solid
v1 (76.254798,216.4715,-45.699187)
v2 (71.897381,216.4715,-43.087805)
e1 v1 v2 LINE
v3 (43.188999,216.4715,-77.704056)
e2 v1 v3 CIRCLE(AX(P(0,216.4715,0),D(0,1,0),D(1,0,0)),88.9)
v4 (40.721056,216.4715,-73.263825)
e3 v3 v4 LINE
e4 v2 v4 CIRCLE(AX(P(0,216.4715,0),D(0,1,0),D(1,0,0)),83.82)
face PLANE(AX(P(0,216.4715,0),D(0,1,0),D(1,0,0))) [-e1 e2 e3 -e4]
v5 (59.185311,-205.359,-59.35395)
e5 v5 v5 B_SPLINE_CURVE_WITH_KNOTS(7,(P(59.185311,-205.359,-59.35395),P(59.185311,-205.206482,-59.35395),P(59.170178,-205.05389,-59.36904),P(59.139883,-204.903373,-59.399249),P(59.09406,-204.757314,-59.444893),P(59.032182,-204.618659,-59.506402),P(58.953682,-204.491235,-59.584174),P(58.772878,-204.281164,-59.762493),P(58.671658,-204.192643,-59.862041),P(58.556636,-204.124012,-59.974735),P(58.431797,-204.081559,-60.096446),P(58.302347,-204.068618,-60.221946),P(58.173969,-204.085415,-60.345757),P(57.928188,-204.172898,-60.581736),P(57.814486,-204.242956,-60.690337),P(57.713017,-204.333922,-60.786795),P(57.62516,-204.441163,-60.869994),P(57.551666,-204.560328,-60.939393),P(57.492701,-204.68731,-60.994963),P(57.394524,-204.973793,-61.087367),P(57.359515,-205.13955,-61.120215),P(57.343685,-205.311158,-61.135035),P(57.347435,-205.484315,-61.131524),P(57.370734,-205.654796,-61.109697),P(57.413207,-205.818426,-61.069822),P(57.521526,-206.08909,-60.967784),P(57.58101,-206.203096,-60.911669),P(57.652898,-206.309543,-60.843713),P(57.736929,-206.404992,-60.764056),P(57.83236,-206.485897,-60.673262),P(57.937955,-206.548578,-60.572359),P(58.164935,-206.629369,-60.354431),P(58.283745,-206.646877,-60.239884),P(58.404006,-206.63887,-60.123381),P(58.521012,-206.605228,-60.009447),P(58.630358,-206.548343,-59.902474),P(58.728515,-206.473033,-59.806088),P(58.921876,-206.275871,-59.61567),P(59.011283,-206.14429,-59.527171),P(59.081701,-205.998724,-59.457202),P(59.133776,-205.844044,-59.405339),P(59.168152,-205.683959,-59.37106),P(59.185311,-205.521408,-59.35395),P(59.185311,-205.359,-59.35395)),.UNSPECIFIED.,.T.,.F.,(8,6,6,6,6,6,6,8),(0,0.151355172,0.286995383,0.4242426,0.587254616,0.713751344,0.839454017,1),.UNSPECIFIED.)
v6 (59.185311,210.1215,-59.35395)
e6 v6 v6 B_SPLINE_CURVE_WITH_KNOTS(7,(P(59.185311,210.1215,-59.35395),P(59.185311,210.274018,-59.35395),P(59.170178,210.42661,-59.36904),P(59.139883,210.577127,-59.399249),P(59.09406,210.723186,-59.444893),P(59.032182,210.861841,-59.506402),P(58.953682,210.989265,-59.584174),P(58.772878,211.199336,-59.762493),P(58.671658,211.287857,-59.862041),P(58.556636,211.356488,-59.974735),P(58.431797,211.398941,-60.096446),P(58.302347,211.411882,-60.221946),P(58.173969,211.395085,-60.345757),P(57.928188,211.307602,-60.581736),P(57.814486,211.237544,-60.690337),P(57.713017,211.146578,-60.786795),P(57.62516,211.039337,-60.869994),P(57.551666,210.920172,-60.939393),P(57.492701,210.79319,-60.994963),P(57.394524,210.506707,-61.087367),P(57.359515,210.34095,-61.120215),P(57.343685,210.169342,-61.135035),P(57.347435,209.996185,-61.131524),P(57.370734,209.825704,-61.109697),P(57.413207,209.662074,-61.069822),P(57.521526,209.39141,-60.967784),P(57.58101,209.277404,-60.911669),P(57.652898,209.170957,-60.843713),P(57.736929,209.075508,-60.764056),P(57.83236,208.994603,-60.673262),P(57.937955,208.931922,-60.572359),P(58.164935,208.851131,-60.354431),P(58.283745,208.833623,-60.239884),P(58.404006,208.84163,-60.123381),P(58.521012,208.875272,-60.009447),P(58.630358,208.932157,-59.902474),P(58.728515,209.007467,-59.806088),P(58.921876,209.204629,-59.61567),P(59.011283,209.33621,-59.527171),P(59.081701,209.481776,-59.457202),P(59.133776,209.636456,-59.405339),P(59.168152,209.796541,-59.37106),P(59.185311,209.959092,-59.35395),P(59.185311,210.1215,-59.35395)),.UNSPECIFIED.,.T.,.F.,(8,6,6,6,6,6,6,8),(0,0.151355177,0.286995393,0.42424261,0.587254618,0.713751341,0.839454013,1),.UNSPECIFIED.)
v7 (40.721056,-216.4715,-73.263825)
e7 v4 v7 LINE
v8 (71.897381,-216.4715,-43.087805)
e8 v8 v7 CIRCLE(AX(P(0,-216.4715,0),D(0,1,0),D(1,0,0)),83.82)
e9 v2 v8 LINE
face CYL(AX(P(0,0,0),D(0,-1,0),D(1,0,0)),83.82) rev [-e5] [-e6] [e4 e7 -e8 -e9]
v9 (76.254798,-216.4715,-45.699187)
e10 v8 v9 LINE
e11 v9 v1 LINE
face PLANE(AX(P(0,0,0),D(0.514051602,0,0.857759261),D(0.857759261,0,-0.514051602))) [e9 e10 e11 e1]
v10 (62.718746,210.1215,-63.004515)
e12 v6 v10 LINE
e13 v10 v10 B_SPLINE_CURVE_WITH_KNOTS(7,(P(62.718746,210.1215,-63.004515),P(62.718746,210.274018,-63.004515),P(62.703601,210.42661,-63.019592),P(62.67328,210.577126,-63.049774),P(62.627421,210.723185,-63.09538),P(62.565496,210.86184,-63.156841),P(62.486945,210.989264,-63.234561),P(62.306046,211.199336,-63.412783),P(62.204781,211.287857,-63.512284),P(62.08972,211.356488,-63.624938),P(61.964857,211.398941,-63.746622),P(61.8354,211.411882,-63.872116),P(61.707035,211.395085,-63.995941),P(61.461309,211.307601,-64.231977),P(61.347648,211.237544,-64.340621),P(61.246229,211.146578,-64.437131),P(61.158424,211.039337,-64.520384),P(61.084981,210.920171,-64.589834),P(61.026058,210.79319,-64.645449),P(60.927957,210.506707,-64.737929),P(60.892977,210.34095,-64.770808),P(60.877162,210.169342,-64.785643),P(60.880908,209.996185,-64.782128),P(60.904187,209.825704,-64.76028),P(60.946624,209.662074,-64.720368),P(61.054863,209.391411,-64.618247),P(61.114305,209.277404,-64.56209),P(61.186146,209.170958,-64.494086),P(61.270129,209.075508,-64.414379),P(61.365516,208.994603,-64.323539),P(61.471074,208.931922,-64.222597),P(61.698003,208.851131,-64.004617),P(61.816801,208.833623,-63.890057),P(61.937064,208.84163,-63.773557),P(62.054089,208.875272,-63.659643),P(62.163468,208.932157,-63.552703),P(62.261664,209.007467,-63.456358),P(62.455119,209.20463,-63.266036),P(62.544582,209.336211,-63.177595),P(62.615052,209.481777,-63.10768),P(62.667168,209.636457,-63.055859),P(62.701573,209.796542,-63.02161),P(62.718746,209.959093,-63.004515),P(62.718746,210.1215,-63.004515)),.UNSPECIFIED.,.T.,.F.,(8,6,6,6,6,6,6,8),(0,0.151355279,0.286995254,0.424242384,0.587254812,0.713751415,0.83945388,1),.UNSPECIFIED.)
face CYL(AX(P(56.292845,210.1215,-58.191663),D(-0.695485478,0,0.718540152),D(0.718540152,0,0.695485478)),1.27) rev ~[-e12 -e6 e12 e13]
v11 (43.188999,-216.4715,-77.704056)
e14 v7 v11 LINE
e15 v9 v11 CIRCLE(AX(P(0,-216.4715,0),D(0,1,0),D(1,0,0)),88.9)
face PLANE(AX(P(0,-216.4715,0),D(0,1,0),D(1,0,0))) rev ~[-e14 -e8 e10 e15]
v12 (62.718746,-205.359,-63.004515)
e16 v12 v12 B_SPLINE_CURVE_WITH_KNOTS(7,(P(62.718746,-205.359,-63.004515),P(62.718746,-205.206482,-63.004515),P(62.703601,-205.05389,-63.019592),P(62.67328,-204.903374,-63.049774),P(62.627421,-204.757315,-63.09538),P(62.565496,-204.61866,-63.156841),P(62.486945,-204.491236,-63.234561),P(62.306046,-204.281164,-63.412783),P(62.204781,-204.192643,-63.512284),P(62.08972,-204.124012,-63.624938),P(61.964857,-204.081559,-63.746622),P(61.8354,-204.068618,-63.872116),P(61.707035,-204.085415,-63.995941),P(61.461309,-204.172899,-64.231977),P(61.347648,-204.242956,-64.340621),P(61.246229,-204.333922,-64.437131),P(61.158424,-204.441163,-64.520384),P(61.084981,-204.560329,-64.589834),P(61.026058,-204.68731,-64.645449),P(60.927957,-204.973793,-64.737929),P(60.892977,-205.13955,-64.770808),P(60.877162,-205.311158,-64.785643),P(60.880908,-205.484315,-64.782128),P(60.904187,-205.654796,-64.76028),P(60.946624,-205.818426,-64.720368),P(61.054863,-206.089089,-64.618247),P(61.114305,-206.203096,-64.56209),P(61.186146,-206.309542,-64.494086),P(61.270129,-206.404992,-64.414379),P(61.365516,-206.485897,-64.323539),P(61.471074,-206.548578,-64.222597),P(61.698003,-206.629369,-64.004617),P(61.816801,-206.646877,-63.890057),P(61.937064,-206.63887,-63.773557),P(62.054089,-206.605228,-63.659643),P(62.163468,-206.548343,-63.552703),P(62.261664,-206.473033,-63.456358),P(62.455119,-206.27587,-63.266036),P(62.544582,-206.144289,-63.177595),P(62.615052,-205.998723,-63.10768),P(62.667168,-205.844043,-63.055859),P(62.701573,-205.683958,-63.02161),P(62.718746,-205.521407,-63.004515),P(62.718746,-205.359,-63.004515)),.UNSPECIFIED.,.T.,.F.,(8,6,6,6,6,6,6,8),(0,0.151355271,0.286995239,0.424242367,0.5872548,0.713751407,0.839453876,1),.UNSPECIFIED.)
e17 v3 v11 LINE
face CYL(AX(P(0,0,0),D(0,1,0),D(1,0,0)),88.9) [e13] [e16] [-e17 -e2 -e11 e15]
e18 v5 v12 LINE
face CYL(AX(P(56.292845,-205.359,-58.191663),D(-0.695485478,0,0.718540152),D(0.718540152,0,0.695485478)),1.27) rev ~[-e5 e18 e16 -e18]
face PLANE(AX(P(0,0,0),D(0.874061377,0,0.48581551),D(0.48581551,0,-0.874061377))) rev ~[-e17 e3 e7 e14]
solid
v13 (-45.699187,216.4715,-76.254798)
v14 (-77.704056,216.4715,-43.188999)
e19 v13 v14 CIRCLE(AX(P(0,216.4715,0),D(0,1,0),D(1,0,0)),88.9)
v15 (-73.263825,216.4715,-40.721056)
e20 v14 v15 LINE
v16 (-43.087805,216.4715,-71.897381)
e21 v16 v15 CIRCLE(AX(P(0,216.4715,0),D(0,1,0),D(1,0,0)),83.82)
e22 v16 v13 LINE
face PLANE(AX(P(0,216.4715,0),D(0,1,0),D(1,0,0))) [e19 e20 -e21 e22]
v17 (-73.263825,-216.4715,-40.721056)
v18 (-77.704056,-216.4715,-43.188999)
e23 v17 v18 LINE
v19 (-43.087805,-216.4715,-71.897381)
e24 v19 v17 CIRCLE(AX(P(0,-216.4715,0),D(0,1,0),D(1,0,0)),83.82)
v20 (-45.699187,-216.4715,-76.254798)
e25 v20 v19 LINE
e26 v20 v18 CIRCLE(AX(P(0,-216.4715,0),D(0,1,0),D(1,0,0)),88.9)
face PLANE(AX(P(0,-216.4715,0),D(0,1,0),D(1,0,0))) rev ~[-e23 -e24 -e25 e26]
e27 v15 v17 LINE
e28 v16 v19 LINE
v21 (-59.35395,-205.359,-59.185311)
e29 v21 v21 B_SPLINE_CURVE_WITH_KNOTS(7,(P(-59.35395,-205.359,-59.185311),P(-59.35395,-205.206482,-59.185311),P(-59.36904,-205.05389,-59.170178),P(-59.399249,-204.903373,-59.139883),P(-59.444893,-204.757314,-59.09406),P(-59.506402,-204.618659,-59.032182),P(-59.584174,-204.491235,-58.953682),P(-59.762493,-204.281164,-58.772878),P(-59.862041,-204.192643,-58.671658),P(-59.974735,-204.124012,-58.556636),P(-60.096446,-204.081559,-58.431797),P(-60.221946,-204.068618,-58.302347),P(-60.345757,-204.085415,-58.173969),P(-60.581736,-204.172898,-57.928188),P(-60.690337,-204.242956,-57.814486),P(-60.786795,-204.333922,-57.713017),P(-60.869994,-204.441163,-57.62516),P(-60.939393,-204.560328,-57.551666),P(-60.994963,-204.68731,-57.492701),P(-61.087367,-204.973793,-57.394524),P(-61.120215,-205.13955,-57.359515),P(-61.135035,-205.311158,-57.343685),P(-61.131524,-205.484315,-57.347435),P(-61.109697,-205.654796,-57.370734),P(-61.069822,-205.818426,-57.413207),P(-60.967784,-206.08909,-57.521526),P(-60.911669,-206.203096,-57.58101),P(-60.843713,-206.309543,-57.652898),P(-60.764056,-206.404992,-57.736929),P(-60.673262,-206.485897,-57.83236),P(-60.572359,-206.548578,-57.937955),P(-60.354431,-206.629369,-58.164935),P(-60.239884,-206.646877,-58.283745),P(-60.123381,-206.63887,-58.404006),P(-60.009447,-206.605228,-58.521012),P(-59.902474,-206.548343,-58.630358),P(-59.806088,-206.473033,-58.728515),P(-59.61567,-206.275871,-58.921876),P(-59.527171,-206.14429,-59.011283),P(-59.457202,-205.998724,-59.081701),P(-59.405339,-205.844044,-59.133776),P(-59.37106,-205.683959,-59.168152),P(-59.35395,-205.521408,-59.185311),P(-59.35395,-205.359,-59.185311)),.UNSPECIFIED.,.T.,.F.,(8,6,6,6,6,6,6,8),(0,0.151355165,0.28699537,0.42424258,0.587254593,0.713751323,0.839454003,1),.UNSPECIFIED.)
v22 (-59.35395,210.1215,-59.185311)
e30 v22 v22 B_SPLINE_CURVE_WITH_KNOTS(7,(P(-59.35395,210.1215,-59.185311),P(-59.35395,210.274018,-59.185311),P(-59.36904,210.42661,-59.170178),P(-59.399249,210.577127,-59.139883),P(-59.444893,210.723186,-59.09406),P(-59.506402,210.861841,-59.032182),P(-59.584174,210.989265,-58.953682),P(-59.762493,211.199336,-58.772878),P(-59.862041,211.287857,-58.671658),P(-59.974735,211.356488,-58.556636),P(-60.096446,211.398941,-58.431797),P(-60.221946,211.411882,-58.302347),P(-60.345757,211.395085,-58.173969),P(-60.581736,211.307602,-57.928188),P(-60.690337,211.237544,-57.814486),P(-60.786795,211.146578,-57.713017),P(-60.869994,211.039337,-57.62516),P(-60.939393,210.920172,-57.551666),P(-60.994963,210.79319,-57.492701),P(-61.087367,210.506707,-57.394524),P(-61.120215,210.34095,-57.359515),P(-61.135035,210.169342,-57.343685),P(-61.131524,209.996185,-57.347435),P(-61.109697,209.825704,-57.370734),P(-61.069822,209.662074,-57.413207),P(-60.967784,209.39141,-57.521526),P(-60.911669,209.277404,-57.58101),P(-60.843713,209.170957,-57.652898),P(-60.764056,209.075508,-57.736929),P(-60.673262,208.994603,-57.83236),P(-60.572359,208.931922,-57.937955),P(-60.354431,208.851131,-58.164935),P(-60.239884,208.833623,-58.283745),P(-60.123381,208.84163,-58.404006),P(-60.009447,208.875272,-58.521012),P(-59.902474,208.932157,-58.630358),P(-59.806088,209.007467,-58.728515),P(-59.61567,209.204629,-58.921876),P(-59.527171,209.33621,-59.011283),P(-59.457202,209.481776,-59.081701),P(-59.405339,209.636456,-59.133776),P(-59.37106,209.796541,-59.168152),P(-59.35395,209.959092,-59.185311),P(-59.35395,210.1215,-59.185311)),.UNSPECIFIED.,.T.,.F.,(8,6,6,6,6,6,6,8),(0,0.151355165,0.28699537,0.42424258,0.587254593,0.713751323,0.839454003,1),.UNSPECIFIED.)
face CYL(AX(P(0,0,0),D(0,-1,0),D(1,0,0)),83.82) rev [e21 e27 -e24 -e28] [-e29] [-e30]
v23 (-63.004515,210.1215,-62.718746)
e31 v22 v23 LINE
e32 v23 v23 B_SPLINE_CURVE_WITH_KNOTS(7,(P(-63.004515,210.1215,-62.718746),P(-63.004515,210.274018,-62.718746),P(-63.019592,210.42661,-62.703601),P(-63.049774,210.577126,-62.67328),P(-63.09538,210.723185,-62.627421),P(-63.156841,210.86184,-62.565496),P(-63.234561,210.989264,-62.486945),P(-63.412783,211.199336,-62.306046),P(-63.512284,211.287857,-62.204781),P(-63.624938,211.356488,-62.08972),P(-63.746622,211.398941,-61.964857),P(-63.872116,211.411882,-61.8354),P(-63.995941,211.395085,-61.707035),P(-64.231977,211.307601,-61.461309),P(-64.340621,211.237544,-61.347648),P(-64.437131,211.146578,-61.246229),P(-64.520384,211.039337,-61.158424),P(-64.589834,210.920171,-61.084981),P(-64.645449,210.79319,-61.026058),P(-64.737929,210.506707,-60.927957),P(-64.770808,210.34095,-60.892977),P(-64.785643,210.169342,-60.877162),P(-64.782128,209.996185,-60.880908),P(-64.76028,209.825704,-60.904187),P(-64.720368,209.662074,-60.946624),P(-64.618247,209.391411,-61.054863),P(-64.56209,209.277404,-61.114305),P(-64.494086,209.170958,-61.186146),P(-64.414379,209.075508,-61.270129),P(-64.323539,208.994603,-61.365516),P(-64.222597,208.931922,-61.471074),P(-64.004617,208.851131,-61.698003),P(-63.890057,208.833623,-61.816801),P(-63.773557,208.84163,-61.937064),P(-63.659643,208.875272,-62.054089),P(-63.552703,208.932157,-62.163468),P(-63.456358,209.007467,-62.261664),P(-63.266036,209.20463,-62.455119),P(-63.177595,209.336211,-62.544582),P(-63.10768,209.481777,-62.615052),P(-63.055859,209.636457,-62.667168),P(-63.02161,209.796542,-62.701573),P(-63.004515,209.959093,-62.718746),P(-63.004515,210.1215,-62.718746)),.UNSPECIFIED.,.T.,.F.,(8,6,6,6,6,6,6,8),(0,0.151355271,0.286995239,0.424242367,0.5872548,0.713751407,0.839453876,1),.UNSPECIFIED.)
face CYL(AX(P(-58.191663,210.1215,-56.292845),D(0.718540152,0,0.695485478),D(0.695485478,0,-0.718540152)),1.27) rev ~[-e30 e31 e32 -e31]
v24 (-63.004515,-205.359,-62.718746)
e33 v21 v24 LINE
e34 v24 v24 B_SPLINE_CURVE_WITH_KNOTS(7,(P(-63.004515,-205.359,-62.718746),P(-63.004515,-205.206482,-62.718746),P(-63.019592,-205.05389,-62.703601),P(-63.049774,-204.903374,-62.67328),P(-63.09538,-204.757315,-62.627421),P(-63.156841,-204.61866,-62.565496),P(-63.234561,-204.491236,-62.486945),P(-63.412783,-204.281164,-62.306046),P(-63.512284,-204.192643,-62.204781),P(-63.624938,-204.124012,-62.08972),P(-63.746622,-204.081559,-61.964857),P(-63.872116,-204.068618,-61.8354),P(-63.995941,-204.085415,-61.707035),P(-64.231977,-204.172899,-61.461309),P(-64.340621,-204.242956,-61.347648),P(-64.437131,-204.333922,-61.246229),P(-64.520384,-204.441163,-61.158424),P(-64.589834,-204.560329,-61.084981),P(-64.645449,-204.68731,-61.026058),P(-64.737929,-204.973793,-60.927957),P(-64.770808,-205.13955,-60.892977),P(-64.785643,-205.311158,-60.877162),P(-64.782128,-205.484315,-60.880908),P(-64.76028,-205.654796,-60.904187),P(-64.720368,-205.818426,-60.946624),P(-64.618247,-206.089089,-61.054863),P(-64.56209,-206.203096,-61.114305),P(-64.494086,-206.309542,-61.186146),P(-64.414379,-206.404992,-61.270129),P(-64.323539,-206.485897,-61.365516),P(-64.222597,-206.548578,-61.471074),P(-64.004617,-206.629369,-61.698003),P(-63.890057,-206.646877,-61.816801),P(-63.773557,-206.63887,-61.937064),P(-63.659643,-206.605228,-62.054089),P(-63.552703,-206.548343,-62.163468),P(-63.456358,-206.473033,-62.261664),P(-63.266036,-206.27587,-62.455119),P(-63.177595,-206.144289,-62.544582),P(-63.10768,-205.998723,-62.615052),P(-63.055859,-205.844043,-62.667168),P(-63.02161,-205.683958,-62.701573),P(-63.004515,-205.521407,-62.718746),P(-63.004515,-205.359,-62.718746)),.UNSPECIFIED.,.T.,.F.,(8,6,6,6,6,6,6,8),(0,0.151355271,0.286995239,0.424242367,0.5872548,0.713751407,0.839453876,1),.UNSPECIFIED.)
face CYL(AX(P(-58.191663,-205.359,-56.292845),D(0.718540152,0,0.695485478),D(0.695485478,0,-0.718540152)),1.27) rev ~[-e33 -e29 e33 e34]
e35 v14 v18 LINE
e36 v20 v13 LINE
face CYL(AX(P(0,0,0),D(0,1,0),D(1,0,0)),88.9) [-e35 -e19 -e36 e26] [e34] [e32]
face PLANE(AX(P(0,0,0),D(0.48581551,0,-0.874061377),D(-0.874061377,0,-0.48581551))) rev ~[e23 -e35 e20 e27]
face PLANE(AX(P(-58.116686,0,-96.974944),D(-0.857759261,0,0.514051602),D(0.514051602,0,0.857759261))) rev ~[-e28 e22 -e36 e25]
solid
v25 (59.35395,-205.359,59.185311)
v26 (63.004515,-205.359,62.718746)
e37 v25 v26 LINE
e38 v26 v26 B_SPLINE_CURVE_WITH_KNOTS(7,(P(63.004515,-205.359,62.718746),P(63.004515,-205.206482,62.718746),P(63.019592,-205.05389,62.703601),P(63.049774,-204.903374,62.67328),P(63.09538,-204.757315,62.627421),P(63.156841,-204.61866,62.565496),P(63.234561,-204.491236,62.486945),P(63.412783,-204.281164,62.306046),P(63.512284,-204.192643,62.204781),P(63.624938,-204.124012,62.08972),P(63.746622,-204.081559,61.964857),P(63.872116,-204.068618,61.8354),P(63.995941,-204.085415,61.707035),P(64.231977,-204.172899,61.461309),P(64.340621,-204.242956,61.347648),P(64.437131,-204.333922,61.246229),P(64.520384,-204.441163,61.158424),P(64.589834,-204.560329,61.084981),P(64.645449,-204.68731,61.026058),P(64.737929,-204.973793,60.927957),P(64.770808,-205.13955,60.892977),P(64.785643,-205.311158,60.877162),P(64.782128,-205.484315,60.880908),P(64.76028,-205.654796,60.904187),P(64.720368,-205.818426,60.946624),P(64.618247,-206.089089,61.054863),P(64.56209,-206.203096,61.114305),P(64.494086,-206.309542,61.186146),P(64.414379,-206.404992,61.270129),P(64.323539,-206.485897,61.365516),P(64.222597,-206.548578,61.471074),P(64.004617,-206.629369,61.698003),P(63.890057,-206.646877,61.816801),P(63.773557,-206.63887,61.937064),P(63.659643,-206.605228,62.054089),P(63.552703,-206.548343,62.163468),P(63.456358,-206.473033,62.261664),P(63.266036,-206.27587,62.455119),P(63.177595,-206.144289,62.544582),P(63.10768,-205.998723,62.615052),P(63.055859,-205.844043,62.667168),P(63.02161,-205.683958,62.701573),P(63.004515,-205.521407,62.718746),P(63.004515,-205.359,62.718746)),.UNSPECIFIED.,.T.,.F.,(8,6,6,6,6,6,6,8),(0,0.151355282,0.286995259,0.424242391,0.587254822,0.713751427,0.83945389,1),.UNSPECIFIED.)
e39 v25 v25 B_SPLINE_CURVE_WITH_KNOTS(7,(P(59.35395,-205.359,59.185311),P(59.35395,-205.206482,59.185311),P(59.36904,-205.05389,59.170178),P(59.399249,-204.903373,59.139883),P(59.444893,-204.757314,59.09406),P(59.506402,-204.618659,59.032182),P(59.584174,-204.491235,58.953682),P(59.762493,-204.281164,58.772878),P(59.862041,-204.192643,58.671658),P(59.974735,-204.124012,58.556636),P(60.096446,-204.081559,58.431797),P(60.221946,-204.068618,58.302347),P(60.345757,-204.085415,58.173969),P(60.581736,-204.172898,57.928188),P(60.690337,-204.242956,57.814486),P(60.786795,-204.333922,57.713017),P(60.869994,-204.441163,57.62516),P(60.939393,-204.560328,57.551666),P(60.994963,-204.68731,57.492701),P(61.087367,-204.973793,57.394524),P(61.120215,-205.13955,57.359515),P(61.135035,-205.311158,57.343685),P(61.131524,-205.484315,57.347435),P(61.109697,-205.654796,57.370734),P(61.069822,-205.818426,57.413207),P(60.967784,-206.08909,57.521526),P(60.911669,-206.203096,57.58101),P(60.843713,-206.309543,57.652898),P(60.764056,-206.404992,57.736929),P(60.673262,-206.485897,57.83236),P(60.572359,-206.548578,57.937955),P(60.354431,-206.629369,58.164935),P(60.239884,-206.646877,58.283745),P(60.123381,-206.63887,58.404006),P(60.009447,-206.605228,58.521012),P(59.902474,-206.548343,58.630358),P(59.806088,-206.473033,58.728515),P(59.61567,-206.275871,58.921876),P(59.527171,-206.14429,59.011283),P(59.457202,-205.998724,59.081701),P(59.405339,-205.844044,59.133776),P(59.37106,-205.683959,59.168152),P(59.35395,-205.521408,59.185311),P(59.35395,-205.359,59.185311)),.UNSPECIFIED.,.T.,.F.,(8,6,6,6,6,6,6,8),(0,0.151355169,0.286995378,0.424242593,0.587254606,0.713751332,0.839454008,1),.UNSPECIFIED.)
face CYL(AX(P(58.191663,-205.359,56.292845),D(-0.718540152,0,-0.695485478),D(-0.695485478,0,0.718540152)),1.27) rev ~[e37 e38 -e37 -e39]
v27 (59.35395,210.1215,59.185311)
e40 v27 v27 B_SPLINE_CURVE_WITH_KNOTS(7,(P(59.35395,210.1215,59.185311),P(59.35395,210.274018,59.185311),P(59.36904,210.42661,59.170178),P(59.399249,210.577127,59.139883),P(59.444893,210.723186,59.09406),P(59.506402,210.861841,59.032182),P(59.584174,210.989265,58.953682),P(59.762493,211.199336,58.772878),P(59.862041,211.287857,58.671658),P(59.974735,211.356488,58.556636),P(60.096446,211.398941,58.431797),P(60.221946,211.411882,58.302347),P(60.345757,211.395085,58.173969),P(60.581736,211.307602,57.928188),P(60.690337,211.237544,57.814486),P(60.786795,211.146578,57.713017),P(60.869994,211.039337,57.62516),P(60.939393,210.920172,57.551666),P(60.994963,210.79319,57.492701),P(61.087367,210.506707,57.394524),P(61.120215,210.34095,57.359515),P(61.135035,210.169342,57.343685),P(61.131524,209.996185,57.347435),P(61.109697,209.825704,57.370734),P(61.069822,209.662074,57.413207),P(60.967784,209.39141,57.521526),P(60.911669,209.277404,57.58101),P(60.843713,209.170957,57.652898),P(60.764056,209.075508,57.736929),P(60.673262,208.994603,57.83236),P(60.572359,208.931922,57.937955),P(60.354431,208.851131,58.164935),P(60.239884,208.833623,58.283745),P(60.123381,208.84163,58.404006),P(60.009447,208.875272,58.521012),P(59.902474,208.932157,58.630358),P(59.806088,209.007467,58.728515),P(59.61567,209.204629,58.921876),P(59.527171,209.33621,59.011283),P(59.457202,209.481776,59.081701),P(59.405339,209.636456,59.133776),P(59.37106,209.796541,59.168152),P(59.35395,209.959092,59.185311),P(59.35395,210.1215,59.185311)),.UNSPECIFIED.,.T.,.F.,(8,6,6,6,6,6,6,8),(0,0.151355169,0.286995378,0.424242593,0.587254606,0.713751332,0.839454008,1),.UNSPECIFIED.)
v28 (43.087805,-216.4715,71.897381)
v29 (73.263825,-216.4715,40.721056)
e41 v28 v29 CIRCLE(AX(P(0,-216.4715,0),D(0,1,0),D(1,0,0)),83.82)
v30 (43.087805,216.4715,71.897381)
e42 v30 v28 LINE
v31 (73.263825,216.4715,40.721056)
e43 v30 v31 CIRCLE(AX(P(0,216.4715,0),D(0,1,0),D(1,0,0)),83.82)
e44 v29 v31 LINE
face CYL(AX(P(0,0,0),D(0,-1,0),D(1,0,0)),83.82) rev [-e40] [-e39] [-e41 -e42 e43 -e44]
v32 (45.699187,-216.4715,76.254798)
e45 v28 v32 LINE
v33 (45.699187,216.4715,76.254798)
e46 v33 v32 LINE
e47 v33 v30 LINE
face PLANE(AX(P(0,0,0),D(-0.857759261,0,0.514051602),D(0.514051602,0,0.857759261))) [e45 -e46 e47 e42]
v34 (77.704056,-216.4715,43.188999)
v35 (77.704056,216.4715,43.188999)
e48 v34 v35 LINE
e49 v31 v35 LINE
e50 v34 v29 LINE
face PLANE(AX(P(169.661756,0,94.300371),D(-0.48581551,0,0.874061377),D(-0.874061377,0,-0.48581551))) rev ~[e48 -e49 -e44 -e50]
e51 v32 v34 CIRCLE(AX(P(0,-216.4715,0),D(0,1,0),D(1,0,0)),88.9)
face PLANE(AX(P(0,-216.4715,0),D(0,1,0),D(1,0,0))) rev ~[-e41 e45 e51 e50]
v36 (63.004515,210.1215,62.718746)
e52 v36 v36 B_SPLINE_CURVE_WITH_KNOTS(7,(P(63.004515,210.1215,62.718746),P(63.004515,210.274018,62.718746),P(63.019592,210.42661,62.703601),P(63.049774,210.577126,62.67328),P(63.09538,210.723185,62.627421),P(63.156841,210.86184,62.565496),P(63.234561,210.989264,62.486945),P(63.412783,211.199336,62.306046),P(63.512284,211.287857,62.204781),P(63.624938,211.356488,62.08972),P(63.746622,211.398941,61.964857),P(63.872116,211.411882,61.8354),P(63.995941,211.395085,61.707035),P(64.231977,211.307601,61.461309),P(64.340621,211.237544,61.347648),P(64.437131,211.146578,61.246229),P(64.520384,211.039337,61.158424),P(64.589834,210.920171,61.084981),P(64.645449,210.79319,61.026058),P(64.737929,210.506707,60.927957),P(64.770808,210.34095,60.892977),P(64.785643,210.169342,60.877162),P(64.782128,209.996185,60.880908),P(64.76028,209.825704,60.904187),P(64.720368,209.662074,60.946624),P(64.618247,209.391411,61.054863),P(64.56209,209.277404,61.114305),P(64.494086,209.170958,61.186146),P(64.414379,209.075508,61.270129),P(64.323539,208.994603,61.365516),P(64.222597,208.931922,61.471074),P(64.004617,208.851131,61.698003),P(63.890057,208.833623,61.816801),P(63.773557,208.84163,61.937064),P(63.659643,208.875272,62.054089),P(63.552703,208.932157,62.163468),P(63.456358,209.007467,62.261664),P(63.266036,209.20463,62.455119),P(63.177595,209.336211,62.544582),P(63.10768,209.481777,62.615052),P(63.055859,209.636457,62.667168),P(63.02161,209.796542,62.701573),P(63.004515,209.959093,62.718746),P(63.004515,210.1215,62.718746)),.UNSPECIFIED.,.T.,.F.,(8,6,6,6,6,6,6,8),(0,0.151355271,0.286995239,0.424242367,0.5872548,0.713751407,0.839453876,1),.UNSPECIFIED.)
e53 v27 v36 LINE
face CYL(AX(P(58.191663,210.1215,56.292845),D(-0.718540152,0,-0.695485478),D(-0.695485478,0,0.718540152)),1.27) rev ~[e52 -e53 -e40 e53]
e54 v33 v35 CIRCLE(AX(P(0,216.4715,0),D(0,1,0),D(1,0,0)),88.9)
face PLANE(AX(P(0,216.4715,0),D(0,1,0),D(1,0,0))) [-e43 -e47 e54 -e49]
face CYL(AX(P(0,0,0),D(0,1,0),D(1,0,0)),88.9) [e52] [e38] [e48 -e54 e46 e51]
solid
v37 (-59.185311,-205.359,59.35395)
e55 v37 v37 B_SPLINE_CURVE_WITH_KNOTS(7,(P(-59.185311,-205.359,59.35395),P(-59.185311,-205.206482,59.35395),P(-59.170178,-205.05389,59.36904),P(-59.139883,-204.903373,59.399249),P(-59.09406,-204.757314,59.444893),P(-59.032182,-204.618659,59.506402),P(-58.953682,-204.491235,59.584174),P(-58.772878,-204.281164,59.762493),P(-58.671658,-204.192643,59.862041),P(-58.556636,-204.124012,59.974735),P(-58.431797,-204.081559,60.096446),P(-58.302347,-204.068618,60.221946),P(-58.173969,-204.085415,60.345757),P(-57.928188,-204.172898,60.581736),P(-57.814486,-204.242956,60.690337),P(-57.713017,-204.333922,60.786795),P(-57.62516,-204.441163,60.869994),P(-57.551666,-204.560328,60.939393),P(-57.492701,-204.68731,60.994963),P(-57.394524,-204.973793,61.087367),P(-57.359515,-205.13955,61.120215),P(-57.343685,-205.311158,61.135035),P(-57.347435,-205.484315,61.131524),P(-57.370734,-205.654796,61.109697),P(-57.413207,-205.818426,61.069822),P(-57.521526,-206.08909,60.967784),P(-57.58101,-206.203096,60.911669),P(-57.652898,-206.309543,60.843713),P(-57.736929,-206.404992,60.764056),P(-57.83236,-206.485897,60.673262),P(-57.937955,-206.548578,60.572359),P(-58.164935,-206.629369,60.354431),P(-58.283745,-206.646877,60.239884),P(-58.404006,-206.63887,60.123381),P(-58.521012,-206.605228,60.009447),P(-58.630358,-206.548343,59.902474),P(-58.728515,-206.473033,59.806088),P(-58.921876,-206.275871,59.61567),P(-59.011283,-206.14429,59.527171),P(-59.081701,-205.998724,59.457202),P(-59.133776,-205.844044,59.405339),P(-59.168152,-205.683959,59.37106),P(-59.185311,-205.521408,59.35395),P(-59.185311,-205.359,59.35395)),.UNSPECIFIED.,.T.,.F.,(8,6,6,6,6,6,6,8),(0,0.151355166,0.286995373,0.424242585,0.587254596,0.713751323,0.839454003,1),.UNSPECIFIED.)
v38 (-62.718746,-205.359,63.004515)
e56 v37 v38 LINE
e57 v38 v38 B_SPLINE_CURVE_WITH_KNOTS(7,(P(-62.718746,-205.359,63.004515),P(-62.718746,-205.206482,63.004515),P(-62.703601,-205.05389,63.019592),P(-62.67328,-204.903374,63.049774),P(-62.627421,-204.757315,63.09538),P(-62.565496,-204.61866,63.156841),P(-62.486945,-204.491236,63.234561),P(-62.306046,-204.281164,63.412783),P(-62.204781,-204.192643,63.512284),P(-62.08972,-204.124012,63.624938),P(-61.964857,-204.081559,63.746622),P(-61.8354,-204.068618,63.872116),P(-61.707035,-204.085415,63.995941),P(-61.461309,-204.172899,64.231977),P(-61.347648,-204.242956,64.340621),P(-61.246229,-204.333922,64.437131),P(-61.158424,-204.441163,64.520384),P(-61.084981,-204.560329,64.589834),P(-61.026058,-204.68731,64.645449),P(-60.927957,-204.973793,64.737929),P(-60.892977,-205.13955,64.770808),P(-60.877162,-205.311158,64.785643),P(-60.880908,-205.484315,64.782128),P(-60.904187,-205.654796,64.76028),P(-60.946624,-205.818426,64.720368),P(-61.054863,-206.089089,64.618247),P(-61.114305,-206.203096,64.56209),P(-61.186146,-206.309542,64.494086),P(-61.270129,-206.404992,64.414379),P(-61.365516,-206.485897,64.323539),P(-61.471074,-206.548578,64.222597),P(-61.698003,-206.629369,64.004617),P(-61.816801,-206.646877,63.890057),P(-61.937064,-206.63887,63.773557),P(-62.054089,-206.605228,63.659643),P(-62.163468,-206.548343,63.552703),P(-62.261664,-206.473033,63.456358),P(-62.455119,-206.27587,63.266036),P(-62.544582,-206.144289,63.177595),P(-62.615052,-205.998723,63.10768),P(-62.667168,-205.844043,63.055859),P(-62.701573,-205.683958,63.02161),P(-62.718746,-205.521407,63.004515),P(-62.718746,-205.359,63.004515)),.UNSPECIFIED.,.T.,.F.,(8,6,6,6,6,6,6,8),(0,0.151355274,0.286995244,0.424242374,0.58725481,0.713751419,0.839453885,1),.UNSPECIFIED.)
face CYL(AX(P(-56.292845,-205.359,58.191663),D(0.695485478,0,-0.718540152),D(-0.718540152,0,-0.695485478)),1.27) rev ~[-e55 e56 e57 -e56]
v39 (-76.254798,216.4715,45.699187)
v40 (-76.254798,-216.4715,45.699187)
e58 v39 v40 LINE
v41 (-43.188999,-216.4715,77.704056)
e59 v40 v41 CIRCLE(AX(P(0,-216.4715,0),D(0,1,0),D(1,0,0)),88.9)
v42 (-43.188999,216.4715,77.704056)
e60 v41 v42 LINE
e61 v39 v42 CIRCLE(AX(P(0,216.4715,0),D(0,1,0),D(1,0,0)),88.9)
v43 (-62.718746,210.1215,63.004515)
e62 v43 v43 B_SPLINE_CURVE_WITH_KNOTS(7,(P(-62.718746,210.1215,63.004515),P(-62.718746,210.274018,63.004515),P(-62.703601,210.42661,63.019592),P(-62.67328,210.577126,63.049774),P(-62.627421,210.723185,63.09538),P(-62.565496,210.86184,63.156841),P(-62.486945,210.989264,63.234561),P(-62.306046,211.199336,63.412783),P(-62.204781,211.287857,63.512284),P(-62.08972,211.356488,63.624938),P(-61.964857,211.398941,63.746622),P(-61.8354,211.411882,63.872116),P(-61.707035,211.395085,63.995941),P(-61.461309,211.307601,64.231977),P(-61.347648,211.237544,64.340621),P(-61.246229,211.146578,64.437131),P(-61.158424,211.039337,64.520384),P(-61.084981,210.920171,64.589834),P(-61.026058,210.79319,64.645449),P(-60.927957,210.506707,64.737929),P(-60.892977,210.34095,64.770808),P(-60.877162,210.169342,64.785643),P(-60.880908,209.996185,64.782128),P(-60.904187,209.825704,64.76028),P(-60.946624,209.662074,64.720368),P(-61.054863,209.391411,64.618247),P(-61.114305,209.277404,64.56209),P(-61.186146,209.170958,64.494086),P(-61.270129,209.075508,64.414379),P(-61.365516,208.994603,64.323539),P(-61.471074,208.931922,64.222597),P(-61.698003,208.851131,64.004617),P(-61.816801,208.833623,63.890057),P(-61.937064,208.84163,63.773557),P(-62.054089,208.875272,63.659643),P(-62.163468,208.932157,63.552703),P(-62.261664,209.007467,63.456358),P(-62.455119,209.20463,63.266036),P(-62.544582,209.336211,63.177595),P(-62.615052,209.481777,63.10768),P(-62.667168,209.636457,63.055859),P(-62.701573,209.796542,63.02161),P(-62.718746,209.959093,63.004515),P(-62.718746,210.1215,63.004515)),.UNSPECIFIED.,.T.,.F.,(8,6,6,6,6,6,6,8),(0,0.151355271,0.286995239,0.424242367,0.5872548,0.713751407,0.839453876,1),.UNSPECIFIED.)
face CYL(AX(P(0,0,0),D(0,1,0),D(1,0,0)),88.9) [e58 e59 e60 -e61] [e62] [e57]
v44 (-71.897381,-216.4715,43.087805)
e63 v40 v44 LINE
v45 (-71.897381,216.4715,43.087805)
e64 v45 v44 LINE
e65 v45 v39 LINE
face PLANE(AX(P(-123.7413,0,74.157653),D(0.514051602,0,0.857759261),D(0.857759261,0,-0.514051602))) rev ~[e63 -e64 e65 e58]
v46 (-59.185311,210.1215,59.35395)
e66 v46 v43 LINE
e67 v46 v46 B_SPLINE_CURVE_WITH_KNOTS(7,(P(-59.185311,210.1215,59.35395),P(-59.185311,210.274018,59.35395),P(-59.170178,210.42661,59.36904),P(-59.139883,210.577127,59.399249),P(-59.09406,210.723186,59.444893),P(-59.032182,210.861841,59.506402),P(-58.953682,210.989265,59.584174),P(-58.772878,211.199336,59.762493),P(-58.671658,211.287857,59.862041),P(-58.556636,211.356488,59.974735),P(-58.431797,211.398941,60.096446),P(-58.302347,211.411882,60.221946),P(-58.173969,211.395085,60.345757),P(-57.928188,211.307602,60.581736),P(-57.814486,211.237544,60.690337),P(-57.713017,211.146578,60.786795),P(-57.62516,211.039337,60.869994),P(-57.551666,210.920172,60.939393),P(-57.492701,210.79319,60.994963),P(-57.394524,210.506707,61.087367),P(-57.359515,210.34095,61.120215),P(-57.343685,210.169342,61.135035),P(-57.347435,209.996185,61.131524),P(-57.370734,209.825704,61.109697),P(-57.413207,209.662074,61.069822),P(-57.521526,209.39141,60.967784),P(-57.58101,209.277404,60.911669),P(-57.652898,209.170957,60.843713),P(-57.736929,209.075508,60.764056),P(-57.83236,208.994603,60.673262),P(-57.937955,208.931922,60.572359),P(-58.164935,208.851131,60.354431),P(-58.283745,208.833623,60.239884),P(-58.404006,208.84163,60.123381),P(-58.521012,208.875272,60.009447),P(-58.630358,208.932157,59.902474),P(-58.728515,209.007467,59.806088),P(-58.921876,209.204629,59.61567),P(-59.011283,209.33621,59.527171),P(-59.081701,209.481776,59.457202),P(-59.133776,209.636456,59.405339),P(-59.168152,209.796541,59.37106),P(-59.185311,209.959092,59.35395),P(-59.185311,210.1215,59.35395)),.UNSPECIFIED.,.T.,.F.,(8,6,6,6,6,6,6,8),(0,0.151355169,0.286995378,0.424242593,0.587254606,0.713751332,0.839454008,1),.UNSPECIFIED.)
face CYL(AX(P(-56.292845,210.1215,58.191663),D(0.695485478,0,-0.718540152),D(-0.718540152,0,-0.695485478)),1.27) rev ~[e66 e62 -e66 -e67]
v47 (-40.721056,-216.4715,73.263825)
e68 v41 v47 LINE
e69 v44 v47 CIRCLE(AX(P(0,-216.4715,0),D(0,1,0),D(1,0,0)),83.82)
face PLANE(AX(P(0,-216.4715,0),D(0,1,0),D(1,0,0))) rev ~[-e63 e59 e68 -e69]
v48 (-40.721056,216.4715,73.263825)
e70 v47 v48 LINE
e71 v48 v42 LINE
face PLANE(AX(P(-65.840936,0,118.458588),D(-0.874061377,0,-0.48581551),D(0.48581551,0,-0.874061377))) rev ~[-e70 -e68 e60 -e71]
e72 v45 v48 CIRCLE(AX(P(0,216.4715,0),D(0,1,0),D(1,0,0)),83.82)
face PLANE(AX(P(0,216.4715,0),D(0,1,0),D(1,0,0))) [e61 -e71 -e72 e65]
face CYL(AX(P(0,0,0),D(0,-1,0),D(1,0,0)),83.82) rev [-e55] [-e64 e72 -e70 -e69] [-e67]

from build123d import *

# Parameters (mm, degrees)
SKETCH2_R               = 88.9
SKETCH2_R_2             = 83.82
BOSS_EXTRUDE1_DEPTH     = 216.4715
CUT_EXTRUDE1_DEPTH      = 217.4715
CUT_EXTRUDE1_DEPTH_BACK = 217.4715
SKETCH5_R               = 1.27
BOLT_HOLES_DEPTH        = 29.911624556
BOLT_PATTERN_COUNT      = 4


with BuildPart() as part:
    # Sketch2 → Boss-Extrude1 (new body, symmetric)
    with BuildSketch(Plane(origin=(0, 0, 0), x_dir=(1, 0, 0), z_dir=(0, 1, 0))):
        Circle(SKETCH2_R)
        Circle(SKETCH2_R_2, mode=Mode.SUBTRACT)
    extrude(amount=BOSS_EXTRUDE1_DEPTH, both=True)

    # Sketch3 → Cut-Extrude1 (cut, two sides)
    with BuildSketch(Plane(origin=(0, 0, 0), x_dir=(1, 0, 0), z_dir=(0, 1, 0))) as cut_extrude1_sk:
        Polygon((169.661755759, -94.300371224), (0, 0), (169.661755759, 101.677593364), align=None)
        Polygon((0, 0), (53.900027233, 96.974944394), (-58.116685864, 96.974944394), align=None)
        Polygon((-123.741299607, 68.777140945), (-123.741299607, -74.157652604), (0, 0), align=None)
        Polygon((-65.840936026, -118.45858783), (0, 0), (70.991745134, -118.45858783), align=None)
    extrude(amount=CUT_EXTRUDE1_DEPTH, mode=Mode.SUBTRACT)
    extrude(cut_extrude1_sk.sketch, amount=-CUT_EXTRUDE1_DEPTH_BACK, mode=Mode.SUBTRACT)

    # Sketch5 → Bolt holes (cut, through all)
    with BuildSketch(Plane(origin=(-56.309218645, 0, 58.175814955), x_dir=(-0.718540152, 0, -0.695485478), z_dir=(0.695485478, 0, -0.718540152))):
        with Locations((-0.02278764, 210.1215)):
            Circle(SKETCH5_R)
        with Locations((-0.02278764, -205.359)):
            Circle(SKETCH5_R)
    bolt_holes = extrude(amount=-BOLT_HOLES_DEPTH, mode=Mode.SUBTRACT)

    # Bolt pattern: Bolt holes ×4 about axis
    bolt_pattern_axis = Axis((0, 216.4715, 0), (0, 1, 0))
    for i in range(1, BOLT_PATTERN_COUNT):
        add(bolt_holes.rotate(bolt_pattern_axis, i * 360 / BOLT_PATTERN_COUNT), mode=Mode.SUBTRACT)


solid = part.part
